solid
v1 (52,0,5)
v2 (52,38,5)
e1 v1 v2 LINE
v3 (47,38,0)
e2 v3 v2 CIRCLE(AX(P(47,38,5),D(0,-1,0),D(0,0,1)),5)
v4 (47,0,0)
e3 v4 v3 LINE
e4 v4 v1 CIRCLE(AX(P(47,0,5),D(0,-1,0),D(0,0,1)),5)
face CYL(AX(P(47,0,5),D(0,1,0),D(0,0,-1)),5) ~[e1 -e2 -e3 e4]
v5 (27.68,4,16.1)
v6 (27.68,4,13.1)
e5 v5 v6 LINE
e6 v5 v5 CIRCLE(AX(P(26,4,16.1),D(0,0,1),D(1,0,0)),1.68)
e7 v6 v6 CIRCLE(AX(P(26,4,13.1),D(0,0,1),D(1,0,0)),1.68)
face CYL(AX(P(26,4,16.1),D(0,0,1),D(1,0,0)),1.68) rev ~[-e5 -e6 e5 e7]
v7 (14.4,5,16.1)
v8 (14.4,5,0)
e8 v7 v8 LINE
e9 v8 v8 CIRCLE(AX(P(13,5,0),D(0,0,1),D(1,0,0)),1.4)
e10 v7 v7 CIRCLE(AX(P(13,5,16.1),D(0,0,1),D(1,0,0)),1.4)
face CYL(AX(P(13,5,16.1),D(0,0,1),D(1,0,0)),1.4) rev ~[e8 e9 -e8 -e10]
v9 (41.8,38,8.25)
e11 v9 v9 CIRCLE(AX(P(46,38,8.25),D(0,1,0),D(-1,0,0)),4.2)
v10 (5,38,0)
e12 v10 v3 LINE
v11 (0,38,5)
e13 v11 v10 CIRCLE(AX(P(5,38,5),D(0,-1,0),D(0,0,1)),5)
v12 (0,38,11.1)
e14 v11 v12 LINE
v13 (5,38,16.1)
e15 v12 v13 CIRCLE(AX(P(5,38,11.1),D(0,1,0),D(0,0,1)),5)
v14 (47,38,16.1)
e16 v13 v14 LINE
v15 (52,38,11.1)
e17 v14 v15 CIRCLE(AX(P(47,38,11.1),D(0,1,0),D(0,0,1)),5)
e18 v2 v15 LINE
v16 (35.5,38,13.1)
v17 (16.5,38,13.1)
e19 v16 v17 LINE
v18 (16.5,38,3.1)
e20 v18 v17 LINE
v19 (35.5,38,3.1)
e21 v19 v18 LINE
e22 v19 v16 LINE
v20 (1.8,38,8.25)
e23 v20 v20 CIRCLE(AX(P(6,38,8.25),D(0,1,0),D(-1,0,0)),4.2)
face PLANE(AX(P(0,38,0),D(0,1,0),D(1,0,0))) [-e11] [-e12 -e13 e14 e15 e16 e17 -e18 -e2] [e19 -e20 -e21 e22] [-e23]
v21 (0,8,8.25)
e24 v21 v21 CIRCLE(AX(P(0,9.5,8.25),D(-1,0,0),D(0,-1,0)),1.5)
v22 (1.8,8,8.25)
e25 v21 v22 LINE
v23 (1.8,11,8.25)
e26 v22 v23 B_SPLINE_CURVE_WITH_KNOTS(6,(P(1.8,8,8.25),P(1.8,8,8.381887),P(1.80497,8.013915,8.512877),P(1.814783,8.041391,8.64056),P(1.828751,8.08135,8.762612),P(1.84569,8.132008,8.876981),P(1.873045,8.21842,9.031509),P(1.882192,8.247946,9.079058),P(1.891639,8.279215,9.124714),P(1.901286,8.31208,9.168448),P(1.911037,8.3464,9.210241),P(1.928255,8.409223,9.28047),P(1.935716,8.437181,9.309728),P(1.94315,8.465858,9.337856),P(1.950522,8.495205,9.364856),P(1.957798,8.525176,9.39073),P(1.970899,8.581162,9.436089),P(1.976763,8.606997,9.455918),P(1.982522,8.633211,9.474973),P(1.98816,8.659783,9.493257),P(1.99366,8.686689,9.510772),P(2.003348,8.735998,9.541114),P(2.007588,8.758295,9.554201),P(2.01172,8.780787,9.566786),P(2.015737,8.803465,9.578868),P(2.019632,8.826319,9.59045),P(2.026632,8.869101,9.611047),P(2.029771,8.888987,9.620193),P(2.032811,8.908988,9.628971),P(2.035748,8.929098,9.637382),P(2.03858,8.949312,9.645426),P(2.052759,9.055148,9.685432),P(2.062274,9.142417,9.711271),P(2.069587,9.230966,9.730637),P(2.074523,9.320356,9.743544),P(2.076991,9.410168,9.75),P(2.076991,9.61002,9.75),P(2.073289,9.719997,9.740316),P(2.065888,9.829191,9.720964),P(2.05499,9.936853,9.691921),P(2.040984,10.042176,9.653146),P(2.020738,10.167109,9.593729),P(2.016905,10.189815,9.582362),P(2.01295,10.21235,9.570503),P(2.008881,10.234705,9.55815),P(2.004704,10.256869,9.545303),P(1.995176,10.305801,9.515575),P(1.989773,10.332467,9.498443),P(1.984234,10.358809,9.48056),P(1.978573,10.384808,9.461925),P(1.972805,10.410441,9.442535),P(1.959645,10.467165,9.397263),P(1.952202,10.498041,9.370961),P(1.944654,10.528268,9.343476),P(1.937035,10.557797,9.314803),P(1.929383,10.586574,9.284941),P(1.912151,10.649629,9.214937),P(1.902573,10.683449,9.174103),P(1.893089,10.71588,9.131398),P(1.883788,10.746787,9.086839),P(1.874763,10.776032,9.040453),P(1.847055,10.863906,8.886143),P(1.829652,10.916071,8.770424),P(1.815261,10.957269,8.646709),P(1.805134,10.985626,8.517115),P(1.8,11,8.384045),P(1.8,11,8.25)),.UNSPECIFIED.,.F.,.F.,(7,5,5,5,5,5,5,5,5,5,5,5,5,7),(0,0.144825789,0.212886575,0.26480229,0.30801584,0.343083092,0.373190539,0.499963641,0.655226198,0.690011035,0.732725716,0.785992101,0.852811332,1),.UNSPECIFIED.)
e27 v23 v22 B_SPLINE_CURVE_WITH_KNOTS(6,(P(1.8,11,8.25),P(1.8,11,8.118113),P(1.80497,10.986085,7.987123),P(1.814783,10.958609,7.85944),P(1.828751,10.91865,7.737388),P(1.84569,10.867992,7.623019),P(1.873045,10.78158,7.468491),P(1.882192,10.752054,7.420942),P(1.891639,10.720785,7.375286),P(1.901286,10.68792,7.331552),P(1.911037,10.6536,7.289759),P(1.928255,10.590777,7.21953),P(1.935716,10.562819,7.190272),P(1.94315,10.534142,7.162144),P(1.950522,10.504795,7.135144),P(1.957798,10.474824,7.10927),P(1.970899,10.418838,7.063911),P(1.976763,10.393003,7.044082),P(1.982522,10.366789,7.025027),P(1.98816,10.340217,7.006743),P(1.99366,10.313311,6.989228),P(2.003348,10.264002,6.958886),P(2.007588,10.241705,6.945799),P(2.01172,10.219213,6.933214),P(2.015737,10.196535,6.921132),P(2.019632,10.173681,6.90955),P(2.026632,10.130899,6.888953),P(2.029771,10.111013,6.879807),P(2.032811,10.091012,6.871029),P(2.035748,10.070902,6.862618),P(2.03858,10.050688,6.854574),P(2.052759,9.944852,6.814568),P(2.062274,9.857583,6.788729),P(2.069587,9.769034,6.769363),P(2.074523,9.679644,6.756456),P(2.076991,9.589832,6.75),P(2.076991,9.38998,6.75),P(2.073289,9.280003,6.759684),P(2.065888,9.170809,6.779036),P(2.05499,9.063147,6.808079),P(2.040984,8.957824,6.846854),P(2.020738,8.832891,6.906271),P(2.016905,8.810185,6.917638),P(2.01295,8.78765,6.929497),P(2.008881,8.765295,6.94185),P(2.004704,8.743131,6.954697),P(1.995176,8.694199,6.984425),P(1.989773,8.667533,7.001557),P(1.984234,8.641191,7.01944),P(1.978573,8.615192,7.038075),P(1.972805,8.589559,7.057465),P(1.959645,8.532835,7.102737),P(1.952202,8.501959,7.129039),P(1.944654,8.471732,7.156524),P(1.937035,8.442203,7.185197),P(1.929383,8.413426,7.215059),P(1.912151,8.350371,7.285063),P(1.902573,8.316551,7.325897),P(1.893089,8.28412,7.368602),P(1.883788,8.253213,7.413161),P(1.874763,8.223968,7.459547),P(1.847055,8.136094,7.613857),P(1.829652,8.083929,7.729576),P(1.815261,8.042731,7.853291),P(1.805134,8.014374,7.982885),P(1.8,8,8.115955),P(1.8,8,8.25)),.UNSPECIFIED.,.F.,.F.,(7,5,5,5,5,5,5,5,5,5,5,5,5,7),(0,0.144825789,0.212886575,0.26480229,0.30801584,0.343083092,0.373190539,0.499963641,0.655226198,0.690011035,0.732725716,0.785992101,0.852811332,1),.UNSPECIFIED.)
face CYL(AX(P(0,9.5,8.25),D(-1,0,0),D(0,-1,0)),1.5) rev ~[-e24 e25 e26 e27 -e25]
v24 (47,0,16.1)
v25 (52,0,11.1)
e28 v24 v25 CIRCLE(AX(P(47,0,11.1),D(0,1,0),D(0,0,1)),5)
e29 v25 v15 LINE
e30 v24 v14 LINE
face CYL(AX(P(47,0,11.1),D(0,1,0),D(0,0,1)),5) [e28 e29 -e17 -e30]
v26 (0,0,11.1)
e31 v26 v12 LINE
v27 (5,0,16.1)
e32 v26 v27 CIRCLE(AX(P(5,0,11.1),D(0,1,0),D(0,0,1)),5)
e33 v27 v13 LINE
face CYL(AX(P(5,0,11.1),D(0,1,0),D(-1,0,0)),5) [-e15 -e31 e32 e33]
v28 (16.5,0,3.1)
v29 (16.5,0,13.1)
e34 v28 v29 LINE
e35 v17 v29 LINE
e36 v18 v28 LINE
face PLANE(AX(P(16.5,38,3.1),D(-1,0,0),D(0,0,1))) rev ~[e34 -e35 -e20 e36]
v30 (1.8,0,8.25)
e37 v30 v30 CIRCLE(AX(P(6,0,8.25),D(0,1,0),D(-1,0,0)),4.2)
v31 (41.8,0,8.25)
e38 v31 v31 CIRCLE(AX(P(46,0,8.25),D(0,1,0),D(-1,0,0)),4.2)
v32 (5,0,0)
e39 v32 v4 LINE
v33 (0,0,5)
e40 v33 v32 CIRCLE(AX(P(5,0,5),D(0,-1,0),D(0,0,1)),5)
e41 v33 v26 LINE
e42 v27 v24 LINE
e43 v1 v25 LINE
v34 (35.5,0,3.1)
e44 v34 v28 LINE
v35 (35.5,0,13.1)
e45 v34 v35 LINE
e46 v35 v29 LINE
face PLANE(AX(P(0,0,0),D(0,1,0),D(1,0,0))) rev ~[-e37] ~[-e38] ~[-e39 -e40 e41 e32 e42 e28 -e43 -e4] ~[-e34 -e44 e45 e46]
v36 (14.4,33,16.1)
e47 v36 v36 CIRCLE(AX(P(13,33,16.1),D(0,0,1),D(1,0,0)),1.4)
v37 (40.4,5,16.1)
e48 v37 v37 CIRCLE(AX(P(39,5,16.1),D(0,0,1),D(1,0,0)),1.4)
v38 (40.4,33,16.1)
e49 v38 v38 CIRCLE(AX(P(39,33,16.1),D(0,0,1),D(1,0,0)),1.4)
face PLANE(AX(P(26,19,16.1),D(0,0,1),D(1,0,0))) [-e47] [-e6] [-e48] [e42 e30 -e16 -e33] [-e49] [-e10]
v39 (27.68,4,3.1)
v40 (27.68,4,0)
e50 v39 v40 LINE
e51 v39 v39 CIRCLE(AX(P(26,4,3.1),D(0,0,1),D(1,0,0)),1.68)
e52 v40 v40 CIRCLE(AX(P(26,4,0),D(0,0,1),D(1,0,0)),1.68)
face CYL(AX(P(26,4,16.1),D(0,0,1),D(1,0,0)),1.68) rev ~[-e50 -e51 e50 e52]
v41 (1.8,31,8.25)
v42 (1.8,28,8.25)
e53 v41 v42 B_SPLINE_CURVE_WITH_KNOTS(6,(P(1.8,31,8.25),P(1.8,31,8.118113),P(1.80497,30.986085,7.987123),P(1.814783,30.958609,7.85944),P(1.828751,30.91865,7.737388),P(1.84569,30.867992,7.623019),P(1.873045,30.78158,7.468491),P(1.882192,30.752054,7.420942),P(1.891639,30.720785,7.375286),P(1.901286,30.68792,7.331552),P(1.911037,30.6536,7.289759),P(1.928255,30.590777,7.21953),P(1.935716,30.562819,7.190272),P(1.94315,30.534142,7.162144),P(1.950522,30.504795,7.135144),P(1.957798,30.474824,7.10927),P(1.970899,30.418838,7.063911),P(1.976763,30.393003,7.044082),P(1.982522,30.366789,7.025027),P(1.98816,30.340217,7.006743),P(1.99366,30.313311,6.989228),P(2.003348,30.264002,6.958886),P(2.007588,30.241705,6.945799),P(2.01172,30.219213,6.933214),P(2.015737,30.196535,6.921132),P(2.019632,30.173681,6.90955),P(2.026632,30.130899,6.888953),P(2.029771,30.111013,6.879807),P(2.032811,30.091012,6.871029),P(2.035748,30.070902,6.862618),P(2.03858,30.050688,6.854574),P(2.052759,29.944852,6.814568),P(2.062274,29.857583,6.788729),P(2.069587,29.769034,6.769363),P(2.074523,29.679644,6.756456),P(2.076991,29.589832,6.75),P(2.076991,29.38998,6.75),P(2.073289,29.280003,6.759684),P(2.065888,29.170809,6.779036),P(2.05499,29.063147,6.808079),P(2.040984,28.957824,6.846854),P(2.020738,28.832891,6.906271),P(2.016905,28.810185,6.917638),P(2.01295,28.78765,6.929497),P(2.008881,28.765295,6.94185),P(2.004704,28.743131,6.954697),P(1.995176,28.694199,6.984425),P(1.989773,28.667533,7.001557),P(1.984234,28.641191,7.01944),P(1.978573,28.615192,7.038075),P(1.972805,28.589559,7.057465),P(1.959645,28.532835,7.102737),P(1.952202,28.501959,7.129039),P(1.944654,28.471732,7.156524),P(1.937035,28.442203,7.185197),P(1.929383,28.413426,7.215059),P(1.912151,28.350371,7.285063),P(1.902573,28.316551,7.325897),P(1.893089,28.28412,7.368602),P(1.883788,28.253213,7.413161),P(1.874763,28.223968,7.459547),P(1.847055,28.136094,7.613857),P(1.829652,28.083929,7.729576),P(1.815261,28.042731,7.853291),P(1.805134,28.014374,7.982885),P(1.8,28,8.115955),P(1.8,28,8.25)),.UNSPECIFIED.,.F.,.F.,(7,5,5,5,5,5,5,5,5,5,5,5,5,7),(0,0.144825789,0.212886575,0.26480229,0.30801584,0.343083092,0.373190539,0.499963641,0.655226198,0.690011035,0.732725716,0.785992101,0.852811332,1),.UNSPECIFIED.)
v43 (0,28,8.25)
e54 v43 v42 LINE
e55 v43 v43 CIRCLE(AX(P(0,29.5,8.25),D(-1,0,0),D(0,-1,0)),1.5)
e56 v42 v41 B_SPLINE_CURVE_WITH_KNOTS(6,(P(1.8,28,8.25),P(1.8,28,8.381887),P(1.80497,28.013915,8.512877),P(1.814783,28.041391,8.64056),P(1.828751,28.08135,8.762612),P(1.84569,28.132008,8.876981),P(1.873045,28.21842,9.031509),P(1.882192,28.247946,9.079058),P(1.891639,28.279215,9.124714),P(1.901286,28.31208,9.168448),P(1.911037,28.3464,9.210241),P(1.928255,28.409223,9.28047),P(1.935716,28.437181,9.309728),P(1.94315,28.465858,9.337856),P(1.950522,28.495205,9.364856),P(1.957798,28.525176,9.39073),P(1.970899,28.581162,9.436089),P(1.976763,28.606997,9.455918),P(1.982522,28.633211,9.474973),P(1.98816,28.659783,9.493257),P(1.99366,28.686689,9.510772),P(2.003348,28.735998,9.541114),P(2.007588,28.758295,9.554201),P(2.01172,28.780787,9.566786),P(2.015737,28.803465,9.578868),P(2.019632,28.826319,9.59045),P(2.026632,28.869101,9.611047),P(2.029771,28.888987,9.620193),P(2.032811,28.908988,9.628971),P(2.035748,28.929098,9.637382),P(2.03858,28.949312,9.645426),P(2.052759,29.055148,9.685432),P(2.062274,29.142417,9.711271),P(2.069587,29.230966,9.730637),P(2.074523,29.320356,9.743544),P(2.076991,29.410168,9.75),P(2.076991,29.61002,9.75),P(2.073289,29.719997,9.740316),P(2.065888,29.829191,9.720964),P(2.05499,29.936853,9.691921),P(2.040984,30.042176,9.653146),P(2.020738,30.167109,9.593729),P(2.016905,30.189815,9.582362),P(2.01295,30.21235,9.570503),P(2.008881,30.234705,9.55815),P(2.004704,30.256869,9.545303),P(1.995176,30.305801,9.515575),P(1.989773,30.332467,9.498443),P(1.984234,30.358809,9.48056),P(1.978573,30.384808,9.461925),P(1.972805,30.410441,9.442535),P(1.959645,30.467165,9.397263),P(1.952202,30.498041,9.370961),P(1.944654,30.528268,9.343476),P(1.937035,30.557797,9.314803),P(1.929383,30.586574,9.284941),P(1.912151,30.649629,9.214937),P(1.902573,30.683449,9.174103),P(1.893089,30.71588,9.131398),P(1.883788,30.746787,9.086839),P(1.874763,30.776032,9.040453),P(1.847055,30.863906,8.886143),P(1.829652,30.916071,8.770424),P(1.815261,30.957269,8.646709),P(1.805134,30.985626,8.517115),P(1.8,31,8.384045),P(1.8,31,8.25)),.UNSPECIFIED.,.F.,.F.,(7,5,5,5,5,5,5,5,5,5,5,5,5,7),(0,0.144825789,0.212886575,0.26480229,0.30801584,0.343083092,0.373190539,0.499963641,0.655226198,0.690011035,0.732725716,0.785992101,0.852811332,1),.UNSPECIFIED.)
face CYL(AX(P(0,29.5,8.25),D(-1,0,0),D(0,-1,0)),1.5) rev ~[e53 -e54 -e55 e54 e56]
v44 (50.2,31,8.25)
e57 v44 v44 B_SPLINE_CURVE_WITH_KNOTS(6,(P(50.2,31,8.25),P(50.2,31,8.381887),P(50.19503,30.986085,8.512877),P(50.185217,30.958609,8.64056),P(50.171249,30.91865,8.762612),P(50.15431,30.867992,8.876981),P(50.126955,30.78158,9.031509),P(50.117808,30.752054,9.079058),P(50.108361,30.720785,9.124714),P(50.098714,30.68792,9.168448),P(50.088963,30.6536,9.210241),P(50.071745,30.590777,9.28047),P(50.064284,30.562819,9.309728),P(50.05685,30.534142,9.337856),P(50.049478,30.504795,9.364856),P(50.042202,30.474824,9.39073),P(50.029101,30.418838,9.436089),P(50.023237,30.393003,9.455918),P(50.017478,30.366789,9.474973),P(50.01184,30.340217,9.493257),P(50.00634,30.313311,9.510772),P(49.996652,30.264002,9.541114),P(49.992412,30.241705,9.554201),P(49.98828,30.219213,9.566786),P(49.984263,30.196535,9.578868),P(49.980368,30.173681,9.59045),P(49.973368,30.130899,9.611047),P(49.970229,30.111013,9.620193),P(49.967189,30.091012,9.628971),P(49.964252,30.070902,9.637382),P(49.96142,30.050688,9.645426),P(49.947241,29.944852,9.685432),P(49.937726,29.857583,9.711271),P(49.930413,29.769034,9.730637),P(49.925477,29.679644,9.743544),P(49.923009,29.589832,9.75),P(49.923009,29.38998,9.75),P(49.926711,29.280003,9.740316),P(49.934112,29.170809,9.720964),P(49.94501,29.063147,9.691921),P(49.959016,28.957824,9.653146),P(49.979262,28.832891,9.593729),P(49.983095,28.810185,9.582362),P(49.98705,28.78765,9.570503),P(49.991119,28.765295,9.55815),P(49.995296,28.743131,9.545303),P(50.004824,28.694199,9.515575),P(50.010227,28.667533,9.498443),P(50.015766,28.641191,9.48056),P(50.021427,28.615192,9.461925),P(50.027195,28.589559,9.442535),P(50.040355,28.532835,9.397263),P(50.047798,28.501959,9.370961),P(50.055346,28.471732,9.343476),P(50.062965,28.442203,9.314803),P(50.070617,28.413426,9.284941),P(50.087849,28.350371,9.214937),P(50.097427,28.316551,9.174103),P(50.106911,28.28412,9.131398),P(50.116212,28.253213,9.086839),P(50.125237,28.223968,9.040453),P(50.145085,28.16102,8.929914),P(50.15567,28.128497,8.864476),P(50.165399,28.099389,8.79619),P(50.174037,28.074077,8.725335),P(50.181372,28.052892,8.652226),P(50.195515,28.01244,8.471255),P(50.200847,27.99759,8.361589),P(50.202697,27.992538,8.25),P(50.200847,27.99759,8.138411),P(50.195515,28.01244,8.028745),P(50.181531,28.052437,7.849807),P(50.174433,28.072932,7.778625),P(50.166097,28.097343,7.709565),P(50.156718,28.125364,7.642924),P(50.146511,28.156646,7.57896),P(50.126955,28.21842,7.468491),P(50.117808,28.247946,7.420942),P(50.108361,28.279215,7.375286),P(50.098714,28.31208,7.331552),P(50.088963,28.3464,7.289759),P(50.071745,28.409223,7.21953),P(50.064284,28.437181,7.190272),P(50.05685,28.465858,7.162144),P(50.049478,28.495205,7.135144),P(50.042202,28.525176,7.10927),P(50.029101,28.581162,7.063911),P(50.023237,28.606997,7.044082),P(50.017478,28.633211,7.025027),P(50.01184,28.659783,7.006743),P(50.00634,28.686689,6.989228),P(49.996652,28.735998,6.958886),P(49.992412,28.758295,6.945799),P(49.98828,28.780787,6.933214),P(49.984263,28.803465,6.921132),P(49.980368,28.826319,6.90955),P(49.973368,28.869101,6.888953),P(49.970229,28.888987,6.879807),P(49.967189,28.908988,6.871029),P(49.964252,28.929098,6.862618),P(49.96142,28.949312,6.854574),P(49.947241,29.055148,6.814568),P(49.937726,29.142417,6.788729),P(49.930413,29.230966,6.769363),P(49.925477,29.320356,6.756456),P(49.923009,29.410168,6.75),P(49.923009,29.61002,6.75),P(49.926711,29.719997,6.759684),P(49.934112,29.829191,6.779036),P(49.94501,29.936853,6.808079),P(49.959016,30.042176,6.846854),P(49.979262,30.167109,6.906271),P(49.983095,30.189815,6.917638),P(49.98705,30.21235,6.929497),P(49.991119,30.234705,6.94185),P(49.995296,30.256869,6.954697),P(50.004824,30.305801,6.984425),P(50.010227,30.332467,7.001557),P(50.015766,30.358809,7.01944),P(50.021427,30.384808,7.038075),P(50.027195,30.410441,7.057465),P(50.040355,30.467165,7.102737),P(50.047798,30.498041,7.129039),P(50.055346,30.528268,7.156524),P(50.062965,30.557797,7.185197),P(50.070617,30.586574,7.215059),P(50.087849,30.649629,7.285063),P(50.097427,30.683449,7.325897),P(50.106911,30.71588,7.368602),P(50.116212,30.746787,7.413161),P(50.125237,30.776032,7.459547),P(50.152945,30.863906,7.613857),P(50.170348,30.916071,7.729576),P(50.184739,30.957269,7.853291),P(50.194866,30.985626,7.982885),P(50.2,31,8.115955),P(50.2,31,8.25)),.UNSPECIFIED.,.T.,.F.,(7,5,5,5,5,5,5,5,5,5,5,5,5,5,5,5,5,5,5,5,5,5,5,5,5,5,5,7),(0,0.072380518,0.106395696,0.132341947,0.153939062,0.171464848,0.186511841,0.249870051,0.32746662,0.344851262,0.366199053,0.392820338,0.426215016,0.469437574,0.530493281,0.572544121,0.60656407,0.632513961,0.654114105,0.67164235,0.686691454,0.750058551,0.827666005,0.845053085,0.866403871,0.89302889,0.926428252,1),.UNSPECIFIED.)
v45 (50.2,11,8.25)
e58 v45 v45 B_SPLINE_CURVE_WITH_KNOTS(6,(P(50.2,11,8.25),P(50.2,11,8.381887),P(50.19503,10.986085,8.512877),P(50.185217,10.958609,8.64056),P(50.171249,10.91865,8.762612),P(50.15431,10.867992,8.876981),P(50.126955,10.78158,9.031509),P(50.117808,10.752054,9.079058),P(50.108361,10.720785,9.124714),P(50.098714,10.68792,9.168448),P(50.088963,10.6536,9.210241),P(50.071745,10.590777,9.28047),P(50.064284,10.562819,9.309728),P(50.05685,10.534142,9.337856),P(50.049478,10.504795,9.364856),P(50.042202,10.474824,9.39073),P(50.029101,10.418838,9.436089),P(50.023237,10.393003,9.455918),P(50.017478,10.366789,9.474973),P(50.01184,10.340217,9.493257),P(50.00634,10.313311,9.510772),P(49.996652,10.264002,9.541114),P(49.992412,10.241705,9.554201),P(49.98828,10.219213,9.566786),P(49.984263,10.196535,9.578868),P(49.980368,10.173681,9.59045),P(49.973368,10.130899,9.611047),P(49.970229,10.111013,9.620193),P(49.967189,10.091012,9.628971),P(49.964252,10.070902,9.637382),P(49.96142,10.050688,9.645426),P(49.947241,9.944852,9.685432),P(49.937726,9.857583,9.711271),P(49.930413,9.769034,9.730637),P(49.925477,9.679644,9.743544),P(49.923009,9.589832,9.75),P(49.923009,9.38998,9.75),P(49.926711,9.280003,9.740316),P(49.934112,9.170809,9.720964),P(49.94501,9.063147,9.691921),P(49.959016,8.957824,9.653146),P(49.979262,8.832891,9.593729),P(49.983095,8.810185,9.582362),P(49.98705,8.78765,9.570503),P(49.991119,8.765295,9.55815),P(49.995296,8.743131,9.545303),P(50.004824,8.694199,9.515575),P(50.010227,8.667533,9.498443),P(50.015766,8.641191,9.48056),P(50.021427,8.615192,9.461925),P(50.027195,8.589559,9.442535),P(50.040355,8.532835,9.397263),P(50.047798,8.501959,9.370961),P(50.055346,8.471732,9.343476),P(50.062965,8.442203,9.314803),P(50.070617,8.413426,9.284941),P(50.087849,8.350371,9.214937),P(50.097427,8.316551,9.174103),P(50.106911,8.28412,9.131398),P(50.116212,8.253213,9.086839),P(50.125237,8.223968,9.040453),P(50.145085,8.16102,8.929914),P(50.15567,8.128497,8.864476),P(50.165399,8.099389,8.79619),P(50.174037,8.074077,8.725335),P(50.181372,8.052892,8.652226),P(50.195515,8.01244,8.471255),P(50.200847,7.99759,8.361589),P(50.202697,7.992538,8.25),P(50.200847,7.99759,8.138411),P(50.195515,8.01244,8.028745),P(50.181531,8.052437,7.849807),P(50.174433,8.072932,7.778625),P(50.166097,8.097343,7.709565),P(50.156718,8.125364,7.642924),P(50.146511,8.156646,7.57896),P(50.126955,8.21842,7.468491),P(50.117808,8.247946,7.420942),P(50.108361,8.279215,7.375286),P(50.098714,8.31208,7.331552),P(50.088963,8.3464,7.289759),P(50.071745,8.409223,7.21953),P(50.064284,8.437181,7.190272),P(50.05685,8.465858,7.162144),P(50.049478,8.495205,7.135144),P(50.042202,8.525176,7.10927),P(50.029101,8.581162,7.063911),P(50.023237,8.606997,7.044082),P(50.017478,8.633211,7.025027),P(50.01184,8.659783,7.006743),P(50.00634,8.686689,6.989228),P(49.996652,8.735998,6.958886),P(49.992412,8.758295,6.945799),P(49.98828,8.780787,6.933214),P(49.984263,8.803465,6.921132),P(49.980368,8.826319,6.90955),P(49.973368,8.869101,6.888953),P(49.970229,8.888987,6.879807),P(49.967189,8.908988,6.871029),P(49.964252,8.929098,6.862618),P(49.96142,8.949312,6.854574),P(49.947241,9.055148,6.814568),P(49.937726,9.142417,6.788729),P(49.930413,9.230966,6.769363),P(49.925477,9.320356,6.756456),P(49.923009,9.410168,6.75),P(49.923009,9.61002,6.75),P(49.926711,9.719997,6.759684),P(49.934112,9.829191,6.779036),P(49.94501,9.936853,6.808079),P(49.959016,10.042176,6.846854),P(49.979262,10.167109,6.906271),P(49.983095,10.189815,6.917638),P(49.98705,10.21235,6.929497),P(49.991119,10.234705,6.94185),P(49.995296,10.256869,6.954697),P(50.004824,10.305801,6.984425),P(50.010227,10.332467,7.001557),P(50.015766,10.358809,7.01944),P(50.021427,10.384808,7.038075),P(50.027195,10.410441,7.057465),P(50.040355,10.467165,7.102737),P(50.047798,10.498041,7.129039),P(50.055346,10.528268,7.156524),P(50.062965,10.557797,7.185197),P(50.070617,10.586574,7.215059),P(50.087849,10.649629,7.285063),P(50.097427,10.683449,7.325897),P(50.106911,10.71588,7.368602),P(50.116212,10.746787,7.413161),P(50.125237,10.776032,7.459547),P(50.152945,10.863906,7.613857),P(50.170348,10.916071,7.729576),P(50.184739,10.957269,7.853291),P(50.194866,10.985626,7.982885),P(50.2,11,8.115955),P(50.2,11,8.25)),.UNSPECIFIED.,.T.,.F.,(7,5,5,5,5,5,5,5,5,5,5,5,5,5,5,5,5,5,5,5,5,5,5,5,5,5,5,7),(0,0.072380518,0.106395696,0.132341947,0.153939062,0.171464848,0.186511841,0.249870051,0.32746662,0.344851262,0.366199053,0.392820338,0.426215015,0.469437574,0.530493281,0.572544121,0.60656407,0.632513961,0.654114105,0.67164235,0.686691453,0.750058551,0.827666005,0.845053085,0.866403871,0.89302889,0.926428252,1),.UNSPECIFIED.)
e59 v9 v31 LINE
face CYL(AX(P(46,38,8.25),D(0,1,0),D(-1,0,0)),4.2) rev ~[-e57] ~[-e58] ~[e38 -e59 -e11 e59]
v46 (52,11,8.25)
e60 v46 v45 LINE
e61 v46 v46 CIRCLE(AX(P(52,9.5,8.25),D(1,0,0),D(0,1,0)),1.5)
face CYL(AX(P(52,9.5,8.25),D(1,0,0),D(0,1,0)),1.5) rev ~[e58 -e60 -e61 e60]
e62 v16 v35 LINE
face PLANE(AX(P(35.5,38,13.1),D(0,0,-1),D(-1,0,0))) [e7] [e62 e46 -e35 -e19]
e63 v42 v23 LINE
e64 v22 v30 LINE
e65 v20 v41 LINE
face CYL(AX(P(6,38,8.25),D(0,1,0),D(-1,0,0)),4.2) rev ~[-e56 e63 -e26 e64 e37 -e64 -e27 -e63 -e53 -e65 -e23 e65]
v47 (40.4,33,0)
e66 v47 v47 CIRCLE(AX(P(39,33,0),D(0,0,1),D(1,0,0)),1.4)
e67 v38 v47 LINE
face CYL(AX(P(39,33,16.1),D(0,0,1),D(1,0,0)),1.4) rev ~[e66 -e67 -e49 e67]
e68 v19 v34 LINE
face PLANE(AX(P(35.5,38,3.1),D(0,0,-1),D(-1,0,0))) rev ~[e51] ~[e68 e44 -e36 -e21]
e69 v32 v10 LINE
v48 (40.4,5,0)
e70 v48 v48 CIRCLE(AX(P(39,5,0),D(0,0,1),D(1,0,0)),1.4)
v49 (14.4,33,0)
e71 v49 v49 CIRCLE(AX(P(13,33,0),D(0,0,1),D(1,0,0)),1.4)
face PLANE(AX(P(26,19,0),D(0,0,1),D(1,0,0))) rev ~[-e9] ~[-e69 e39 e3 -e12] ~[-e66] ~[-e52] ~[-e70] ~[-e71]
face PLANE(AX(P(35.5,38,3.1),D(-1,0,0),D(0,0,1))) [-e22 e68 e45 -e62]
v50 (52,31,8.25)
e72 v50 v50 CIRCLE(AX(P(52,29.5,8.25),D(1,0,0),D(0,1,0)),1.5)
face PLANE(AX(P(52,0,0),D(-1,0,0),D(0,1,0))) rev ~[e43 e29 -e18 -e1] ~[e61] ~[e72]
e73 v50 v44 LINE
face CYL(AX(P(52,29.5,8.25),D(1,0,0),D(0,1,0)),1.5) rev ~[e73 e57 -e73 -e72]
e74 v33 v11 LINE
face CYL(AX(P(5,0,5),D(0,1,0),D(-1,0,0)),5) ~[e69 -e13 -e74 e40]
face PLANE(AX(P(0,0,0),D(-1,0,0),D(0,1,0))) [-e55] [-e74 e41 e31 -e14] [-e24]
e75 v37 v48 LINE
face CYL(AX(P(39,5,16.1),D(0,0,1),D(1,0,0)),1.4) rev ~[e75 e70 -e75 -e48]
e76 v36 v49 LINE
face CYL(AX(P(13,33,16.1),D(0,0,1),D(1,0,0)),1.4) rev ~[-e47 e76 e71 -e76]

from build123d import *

# Parameters (mm, degrees)
BOX_W           = 52
BOX_H           = 38
BOX_DEPTH       = 16.1
SKETCH003_R     = 4.2
SKETCH003_W     = 19
SKETCH003_H     = 10
POCKET_DEPTH    = 38.001
SKETCH007_R     = 1.4
POCKET001_DEPTH = 16.101
SKETCH008_R     = 1.5
POCKET002_DEPTH = 3
SKETCH004_R     = 1.5
POCKET003_DEPTH = 3
SKETCH013_R     = 1.68
POCKET004_DEPTH = 16.101
FILLET004_R     = 5


with BuildPart() as part:
    # Box → Box (new body)
    with BuildSketch(Plane.XY):
        with Locations((26, 19)):
            Rectangle(BOX_W, BOX_H)
    extrude(amount=BOX_DEPTH)

    # Sketch003 → Pocket (cut, through all)
    with BuildSketch(Plane(origin=(0, 38, 0), x_dir=(-1, 0, 0), z_dir=(0, 1, 0))):
        with Locations((-46, 8.25)):
            Circle(SKETCH003_R)
        with Locations((-6, 8.25)):
            Circle(SKETCH003_R)
        with Locations((-26, 8.1)):
            Rectangle(SKETCH003_W, SKETCH003_H)
    extrude(amount=-POCKET_DEPTH, mode=Mode.SUBTRACT)

    # Sketch007 → Pocket001 (cut, through all)
    with BuildSketch(Plane.XY.offset(16.1)):
        with Locations((13, 5)):
            Circle(SKETCH007_R)
        with Locations((39, 5)):
            Circle(SKETCH007_R)
        with Locations((39, 33)):
            Circle(SKETCH007_R)
        with Locations((13, 33)):
            Circle(SKETCH007_R)
    extrude(amount=-POCKET001_DEPTH, mode=Mode.SUBTRACT)

    # Sketch008 → Pocket002 (cut)
    with BuildSketch(Plane(origin=(0, 0, 0), x_dir=(0, -1, 0), z_dir=(-1, 0, 0))):
        with Locations((-29.5, 8.25)):
            Circle(SKETCH008_R)
        with Locations((-9.5, 8.25)):
            Circle(SKETCH008_R)
    extrude(amount=-POCKET002_DEPTH, mode=Mode.SUBTRACT)

    # Sketch004 → Pocket003 (cut)
    with BuildSketch(Plane.YZ.offset(52)):
        with Locations((9.5, 8.25)):
            Circle(SKETCH004_R)
        with Locations((29.5, 8.25)):
            Circle(SKETCH004_R)
    extrude(amount=-POCKET003_DEPTH, mode=Mode.SUBTRACT)

    # Sketch013 → Pocket004 (cut, through all)
    with BuildSketch(Plane.XY.offset(16.1)):
        with Locations((26, 4)):
            Circle(SKETCH013_R)
    extrude(amount=-POCKET004_DEPTH, mode=Mode.SUBTRACT)

    # Fillet004
    fillet004_edges = [part.edges().sort_by_distance(p)[0] for p in [
        (52, 19, 16.1),
        (52, 19, 0),
        (0, 19, 16.1),
        (0, 19, 0),
    ]]
    fillet(fillet004_edges, radius=FILLET004_R)


solid = part.part
